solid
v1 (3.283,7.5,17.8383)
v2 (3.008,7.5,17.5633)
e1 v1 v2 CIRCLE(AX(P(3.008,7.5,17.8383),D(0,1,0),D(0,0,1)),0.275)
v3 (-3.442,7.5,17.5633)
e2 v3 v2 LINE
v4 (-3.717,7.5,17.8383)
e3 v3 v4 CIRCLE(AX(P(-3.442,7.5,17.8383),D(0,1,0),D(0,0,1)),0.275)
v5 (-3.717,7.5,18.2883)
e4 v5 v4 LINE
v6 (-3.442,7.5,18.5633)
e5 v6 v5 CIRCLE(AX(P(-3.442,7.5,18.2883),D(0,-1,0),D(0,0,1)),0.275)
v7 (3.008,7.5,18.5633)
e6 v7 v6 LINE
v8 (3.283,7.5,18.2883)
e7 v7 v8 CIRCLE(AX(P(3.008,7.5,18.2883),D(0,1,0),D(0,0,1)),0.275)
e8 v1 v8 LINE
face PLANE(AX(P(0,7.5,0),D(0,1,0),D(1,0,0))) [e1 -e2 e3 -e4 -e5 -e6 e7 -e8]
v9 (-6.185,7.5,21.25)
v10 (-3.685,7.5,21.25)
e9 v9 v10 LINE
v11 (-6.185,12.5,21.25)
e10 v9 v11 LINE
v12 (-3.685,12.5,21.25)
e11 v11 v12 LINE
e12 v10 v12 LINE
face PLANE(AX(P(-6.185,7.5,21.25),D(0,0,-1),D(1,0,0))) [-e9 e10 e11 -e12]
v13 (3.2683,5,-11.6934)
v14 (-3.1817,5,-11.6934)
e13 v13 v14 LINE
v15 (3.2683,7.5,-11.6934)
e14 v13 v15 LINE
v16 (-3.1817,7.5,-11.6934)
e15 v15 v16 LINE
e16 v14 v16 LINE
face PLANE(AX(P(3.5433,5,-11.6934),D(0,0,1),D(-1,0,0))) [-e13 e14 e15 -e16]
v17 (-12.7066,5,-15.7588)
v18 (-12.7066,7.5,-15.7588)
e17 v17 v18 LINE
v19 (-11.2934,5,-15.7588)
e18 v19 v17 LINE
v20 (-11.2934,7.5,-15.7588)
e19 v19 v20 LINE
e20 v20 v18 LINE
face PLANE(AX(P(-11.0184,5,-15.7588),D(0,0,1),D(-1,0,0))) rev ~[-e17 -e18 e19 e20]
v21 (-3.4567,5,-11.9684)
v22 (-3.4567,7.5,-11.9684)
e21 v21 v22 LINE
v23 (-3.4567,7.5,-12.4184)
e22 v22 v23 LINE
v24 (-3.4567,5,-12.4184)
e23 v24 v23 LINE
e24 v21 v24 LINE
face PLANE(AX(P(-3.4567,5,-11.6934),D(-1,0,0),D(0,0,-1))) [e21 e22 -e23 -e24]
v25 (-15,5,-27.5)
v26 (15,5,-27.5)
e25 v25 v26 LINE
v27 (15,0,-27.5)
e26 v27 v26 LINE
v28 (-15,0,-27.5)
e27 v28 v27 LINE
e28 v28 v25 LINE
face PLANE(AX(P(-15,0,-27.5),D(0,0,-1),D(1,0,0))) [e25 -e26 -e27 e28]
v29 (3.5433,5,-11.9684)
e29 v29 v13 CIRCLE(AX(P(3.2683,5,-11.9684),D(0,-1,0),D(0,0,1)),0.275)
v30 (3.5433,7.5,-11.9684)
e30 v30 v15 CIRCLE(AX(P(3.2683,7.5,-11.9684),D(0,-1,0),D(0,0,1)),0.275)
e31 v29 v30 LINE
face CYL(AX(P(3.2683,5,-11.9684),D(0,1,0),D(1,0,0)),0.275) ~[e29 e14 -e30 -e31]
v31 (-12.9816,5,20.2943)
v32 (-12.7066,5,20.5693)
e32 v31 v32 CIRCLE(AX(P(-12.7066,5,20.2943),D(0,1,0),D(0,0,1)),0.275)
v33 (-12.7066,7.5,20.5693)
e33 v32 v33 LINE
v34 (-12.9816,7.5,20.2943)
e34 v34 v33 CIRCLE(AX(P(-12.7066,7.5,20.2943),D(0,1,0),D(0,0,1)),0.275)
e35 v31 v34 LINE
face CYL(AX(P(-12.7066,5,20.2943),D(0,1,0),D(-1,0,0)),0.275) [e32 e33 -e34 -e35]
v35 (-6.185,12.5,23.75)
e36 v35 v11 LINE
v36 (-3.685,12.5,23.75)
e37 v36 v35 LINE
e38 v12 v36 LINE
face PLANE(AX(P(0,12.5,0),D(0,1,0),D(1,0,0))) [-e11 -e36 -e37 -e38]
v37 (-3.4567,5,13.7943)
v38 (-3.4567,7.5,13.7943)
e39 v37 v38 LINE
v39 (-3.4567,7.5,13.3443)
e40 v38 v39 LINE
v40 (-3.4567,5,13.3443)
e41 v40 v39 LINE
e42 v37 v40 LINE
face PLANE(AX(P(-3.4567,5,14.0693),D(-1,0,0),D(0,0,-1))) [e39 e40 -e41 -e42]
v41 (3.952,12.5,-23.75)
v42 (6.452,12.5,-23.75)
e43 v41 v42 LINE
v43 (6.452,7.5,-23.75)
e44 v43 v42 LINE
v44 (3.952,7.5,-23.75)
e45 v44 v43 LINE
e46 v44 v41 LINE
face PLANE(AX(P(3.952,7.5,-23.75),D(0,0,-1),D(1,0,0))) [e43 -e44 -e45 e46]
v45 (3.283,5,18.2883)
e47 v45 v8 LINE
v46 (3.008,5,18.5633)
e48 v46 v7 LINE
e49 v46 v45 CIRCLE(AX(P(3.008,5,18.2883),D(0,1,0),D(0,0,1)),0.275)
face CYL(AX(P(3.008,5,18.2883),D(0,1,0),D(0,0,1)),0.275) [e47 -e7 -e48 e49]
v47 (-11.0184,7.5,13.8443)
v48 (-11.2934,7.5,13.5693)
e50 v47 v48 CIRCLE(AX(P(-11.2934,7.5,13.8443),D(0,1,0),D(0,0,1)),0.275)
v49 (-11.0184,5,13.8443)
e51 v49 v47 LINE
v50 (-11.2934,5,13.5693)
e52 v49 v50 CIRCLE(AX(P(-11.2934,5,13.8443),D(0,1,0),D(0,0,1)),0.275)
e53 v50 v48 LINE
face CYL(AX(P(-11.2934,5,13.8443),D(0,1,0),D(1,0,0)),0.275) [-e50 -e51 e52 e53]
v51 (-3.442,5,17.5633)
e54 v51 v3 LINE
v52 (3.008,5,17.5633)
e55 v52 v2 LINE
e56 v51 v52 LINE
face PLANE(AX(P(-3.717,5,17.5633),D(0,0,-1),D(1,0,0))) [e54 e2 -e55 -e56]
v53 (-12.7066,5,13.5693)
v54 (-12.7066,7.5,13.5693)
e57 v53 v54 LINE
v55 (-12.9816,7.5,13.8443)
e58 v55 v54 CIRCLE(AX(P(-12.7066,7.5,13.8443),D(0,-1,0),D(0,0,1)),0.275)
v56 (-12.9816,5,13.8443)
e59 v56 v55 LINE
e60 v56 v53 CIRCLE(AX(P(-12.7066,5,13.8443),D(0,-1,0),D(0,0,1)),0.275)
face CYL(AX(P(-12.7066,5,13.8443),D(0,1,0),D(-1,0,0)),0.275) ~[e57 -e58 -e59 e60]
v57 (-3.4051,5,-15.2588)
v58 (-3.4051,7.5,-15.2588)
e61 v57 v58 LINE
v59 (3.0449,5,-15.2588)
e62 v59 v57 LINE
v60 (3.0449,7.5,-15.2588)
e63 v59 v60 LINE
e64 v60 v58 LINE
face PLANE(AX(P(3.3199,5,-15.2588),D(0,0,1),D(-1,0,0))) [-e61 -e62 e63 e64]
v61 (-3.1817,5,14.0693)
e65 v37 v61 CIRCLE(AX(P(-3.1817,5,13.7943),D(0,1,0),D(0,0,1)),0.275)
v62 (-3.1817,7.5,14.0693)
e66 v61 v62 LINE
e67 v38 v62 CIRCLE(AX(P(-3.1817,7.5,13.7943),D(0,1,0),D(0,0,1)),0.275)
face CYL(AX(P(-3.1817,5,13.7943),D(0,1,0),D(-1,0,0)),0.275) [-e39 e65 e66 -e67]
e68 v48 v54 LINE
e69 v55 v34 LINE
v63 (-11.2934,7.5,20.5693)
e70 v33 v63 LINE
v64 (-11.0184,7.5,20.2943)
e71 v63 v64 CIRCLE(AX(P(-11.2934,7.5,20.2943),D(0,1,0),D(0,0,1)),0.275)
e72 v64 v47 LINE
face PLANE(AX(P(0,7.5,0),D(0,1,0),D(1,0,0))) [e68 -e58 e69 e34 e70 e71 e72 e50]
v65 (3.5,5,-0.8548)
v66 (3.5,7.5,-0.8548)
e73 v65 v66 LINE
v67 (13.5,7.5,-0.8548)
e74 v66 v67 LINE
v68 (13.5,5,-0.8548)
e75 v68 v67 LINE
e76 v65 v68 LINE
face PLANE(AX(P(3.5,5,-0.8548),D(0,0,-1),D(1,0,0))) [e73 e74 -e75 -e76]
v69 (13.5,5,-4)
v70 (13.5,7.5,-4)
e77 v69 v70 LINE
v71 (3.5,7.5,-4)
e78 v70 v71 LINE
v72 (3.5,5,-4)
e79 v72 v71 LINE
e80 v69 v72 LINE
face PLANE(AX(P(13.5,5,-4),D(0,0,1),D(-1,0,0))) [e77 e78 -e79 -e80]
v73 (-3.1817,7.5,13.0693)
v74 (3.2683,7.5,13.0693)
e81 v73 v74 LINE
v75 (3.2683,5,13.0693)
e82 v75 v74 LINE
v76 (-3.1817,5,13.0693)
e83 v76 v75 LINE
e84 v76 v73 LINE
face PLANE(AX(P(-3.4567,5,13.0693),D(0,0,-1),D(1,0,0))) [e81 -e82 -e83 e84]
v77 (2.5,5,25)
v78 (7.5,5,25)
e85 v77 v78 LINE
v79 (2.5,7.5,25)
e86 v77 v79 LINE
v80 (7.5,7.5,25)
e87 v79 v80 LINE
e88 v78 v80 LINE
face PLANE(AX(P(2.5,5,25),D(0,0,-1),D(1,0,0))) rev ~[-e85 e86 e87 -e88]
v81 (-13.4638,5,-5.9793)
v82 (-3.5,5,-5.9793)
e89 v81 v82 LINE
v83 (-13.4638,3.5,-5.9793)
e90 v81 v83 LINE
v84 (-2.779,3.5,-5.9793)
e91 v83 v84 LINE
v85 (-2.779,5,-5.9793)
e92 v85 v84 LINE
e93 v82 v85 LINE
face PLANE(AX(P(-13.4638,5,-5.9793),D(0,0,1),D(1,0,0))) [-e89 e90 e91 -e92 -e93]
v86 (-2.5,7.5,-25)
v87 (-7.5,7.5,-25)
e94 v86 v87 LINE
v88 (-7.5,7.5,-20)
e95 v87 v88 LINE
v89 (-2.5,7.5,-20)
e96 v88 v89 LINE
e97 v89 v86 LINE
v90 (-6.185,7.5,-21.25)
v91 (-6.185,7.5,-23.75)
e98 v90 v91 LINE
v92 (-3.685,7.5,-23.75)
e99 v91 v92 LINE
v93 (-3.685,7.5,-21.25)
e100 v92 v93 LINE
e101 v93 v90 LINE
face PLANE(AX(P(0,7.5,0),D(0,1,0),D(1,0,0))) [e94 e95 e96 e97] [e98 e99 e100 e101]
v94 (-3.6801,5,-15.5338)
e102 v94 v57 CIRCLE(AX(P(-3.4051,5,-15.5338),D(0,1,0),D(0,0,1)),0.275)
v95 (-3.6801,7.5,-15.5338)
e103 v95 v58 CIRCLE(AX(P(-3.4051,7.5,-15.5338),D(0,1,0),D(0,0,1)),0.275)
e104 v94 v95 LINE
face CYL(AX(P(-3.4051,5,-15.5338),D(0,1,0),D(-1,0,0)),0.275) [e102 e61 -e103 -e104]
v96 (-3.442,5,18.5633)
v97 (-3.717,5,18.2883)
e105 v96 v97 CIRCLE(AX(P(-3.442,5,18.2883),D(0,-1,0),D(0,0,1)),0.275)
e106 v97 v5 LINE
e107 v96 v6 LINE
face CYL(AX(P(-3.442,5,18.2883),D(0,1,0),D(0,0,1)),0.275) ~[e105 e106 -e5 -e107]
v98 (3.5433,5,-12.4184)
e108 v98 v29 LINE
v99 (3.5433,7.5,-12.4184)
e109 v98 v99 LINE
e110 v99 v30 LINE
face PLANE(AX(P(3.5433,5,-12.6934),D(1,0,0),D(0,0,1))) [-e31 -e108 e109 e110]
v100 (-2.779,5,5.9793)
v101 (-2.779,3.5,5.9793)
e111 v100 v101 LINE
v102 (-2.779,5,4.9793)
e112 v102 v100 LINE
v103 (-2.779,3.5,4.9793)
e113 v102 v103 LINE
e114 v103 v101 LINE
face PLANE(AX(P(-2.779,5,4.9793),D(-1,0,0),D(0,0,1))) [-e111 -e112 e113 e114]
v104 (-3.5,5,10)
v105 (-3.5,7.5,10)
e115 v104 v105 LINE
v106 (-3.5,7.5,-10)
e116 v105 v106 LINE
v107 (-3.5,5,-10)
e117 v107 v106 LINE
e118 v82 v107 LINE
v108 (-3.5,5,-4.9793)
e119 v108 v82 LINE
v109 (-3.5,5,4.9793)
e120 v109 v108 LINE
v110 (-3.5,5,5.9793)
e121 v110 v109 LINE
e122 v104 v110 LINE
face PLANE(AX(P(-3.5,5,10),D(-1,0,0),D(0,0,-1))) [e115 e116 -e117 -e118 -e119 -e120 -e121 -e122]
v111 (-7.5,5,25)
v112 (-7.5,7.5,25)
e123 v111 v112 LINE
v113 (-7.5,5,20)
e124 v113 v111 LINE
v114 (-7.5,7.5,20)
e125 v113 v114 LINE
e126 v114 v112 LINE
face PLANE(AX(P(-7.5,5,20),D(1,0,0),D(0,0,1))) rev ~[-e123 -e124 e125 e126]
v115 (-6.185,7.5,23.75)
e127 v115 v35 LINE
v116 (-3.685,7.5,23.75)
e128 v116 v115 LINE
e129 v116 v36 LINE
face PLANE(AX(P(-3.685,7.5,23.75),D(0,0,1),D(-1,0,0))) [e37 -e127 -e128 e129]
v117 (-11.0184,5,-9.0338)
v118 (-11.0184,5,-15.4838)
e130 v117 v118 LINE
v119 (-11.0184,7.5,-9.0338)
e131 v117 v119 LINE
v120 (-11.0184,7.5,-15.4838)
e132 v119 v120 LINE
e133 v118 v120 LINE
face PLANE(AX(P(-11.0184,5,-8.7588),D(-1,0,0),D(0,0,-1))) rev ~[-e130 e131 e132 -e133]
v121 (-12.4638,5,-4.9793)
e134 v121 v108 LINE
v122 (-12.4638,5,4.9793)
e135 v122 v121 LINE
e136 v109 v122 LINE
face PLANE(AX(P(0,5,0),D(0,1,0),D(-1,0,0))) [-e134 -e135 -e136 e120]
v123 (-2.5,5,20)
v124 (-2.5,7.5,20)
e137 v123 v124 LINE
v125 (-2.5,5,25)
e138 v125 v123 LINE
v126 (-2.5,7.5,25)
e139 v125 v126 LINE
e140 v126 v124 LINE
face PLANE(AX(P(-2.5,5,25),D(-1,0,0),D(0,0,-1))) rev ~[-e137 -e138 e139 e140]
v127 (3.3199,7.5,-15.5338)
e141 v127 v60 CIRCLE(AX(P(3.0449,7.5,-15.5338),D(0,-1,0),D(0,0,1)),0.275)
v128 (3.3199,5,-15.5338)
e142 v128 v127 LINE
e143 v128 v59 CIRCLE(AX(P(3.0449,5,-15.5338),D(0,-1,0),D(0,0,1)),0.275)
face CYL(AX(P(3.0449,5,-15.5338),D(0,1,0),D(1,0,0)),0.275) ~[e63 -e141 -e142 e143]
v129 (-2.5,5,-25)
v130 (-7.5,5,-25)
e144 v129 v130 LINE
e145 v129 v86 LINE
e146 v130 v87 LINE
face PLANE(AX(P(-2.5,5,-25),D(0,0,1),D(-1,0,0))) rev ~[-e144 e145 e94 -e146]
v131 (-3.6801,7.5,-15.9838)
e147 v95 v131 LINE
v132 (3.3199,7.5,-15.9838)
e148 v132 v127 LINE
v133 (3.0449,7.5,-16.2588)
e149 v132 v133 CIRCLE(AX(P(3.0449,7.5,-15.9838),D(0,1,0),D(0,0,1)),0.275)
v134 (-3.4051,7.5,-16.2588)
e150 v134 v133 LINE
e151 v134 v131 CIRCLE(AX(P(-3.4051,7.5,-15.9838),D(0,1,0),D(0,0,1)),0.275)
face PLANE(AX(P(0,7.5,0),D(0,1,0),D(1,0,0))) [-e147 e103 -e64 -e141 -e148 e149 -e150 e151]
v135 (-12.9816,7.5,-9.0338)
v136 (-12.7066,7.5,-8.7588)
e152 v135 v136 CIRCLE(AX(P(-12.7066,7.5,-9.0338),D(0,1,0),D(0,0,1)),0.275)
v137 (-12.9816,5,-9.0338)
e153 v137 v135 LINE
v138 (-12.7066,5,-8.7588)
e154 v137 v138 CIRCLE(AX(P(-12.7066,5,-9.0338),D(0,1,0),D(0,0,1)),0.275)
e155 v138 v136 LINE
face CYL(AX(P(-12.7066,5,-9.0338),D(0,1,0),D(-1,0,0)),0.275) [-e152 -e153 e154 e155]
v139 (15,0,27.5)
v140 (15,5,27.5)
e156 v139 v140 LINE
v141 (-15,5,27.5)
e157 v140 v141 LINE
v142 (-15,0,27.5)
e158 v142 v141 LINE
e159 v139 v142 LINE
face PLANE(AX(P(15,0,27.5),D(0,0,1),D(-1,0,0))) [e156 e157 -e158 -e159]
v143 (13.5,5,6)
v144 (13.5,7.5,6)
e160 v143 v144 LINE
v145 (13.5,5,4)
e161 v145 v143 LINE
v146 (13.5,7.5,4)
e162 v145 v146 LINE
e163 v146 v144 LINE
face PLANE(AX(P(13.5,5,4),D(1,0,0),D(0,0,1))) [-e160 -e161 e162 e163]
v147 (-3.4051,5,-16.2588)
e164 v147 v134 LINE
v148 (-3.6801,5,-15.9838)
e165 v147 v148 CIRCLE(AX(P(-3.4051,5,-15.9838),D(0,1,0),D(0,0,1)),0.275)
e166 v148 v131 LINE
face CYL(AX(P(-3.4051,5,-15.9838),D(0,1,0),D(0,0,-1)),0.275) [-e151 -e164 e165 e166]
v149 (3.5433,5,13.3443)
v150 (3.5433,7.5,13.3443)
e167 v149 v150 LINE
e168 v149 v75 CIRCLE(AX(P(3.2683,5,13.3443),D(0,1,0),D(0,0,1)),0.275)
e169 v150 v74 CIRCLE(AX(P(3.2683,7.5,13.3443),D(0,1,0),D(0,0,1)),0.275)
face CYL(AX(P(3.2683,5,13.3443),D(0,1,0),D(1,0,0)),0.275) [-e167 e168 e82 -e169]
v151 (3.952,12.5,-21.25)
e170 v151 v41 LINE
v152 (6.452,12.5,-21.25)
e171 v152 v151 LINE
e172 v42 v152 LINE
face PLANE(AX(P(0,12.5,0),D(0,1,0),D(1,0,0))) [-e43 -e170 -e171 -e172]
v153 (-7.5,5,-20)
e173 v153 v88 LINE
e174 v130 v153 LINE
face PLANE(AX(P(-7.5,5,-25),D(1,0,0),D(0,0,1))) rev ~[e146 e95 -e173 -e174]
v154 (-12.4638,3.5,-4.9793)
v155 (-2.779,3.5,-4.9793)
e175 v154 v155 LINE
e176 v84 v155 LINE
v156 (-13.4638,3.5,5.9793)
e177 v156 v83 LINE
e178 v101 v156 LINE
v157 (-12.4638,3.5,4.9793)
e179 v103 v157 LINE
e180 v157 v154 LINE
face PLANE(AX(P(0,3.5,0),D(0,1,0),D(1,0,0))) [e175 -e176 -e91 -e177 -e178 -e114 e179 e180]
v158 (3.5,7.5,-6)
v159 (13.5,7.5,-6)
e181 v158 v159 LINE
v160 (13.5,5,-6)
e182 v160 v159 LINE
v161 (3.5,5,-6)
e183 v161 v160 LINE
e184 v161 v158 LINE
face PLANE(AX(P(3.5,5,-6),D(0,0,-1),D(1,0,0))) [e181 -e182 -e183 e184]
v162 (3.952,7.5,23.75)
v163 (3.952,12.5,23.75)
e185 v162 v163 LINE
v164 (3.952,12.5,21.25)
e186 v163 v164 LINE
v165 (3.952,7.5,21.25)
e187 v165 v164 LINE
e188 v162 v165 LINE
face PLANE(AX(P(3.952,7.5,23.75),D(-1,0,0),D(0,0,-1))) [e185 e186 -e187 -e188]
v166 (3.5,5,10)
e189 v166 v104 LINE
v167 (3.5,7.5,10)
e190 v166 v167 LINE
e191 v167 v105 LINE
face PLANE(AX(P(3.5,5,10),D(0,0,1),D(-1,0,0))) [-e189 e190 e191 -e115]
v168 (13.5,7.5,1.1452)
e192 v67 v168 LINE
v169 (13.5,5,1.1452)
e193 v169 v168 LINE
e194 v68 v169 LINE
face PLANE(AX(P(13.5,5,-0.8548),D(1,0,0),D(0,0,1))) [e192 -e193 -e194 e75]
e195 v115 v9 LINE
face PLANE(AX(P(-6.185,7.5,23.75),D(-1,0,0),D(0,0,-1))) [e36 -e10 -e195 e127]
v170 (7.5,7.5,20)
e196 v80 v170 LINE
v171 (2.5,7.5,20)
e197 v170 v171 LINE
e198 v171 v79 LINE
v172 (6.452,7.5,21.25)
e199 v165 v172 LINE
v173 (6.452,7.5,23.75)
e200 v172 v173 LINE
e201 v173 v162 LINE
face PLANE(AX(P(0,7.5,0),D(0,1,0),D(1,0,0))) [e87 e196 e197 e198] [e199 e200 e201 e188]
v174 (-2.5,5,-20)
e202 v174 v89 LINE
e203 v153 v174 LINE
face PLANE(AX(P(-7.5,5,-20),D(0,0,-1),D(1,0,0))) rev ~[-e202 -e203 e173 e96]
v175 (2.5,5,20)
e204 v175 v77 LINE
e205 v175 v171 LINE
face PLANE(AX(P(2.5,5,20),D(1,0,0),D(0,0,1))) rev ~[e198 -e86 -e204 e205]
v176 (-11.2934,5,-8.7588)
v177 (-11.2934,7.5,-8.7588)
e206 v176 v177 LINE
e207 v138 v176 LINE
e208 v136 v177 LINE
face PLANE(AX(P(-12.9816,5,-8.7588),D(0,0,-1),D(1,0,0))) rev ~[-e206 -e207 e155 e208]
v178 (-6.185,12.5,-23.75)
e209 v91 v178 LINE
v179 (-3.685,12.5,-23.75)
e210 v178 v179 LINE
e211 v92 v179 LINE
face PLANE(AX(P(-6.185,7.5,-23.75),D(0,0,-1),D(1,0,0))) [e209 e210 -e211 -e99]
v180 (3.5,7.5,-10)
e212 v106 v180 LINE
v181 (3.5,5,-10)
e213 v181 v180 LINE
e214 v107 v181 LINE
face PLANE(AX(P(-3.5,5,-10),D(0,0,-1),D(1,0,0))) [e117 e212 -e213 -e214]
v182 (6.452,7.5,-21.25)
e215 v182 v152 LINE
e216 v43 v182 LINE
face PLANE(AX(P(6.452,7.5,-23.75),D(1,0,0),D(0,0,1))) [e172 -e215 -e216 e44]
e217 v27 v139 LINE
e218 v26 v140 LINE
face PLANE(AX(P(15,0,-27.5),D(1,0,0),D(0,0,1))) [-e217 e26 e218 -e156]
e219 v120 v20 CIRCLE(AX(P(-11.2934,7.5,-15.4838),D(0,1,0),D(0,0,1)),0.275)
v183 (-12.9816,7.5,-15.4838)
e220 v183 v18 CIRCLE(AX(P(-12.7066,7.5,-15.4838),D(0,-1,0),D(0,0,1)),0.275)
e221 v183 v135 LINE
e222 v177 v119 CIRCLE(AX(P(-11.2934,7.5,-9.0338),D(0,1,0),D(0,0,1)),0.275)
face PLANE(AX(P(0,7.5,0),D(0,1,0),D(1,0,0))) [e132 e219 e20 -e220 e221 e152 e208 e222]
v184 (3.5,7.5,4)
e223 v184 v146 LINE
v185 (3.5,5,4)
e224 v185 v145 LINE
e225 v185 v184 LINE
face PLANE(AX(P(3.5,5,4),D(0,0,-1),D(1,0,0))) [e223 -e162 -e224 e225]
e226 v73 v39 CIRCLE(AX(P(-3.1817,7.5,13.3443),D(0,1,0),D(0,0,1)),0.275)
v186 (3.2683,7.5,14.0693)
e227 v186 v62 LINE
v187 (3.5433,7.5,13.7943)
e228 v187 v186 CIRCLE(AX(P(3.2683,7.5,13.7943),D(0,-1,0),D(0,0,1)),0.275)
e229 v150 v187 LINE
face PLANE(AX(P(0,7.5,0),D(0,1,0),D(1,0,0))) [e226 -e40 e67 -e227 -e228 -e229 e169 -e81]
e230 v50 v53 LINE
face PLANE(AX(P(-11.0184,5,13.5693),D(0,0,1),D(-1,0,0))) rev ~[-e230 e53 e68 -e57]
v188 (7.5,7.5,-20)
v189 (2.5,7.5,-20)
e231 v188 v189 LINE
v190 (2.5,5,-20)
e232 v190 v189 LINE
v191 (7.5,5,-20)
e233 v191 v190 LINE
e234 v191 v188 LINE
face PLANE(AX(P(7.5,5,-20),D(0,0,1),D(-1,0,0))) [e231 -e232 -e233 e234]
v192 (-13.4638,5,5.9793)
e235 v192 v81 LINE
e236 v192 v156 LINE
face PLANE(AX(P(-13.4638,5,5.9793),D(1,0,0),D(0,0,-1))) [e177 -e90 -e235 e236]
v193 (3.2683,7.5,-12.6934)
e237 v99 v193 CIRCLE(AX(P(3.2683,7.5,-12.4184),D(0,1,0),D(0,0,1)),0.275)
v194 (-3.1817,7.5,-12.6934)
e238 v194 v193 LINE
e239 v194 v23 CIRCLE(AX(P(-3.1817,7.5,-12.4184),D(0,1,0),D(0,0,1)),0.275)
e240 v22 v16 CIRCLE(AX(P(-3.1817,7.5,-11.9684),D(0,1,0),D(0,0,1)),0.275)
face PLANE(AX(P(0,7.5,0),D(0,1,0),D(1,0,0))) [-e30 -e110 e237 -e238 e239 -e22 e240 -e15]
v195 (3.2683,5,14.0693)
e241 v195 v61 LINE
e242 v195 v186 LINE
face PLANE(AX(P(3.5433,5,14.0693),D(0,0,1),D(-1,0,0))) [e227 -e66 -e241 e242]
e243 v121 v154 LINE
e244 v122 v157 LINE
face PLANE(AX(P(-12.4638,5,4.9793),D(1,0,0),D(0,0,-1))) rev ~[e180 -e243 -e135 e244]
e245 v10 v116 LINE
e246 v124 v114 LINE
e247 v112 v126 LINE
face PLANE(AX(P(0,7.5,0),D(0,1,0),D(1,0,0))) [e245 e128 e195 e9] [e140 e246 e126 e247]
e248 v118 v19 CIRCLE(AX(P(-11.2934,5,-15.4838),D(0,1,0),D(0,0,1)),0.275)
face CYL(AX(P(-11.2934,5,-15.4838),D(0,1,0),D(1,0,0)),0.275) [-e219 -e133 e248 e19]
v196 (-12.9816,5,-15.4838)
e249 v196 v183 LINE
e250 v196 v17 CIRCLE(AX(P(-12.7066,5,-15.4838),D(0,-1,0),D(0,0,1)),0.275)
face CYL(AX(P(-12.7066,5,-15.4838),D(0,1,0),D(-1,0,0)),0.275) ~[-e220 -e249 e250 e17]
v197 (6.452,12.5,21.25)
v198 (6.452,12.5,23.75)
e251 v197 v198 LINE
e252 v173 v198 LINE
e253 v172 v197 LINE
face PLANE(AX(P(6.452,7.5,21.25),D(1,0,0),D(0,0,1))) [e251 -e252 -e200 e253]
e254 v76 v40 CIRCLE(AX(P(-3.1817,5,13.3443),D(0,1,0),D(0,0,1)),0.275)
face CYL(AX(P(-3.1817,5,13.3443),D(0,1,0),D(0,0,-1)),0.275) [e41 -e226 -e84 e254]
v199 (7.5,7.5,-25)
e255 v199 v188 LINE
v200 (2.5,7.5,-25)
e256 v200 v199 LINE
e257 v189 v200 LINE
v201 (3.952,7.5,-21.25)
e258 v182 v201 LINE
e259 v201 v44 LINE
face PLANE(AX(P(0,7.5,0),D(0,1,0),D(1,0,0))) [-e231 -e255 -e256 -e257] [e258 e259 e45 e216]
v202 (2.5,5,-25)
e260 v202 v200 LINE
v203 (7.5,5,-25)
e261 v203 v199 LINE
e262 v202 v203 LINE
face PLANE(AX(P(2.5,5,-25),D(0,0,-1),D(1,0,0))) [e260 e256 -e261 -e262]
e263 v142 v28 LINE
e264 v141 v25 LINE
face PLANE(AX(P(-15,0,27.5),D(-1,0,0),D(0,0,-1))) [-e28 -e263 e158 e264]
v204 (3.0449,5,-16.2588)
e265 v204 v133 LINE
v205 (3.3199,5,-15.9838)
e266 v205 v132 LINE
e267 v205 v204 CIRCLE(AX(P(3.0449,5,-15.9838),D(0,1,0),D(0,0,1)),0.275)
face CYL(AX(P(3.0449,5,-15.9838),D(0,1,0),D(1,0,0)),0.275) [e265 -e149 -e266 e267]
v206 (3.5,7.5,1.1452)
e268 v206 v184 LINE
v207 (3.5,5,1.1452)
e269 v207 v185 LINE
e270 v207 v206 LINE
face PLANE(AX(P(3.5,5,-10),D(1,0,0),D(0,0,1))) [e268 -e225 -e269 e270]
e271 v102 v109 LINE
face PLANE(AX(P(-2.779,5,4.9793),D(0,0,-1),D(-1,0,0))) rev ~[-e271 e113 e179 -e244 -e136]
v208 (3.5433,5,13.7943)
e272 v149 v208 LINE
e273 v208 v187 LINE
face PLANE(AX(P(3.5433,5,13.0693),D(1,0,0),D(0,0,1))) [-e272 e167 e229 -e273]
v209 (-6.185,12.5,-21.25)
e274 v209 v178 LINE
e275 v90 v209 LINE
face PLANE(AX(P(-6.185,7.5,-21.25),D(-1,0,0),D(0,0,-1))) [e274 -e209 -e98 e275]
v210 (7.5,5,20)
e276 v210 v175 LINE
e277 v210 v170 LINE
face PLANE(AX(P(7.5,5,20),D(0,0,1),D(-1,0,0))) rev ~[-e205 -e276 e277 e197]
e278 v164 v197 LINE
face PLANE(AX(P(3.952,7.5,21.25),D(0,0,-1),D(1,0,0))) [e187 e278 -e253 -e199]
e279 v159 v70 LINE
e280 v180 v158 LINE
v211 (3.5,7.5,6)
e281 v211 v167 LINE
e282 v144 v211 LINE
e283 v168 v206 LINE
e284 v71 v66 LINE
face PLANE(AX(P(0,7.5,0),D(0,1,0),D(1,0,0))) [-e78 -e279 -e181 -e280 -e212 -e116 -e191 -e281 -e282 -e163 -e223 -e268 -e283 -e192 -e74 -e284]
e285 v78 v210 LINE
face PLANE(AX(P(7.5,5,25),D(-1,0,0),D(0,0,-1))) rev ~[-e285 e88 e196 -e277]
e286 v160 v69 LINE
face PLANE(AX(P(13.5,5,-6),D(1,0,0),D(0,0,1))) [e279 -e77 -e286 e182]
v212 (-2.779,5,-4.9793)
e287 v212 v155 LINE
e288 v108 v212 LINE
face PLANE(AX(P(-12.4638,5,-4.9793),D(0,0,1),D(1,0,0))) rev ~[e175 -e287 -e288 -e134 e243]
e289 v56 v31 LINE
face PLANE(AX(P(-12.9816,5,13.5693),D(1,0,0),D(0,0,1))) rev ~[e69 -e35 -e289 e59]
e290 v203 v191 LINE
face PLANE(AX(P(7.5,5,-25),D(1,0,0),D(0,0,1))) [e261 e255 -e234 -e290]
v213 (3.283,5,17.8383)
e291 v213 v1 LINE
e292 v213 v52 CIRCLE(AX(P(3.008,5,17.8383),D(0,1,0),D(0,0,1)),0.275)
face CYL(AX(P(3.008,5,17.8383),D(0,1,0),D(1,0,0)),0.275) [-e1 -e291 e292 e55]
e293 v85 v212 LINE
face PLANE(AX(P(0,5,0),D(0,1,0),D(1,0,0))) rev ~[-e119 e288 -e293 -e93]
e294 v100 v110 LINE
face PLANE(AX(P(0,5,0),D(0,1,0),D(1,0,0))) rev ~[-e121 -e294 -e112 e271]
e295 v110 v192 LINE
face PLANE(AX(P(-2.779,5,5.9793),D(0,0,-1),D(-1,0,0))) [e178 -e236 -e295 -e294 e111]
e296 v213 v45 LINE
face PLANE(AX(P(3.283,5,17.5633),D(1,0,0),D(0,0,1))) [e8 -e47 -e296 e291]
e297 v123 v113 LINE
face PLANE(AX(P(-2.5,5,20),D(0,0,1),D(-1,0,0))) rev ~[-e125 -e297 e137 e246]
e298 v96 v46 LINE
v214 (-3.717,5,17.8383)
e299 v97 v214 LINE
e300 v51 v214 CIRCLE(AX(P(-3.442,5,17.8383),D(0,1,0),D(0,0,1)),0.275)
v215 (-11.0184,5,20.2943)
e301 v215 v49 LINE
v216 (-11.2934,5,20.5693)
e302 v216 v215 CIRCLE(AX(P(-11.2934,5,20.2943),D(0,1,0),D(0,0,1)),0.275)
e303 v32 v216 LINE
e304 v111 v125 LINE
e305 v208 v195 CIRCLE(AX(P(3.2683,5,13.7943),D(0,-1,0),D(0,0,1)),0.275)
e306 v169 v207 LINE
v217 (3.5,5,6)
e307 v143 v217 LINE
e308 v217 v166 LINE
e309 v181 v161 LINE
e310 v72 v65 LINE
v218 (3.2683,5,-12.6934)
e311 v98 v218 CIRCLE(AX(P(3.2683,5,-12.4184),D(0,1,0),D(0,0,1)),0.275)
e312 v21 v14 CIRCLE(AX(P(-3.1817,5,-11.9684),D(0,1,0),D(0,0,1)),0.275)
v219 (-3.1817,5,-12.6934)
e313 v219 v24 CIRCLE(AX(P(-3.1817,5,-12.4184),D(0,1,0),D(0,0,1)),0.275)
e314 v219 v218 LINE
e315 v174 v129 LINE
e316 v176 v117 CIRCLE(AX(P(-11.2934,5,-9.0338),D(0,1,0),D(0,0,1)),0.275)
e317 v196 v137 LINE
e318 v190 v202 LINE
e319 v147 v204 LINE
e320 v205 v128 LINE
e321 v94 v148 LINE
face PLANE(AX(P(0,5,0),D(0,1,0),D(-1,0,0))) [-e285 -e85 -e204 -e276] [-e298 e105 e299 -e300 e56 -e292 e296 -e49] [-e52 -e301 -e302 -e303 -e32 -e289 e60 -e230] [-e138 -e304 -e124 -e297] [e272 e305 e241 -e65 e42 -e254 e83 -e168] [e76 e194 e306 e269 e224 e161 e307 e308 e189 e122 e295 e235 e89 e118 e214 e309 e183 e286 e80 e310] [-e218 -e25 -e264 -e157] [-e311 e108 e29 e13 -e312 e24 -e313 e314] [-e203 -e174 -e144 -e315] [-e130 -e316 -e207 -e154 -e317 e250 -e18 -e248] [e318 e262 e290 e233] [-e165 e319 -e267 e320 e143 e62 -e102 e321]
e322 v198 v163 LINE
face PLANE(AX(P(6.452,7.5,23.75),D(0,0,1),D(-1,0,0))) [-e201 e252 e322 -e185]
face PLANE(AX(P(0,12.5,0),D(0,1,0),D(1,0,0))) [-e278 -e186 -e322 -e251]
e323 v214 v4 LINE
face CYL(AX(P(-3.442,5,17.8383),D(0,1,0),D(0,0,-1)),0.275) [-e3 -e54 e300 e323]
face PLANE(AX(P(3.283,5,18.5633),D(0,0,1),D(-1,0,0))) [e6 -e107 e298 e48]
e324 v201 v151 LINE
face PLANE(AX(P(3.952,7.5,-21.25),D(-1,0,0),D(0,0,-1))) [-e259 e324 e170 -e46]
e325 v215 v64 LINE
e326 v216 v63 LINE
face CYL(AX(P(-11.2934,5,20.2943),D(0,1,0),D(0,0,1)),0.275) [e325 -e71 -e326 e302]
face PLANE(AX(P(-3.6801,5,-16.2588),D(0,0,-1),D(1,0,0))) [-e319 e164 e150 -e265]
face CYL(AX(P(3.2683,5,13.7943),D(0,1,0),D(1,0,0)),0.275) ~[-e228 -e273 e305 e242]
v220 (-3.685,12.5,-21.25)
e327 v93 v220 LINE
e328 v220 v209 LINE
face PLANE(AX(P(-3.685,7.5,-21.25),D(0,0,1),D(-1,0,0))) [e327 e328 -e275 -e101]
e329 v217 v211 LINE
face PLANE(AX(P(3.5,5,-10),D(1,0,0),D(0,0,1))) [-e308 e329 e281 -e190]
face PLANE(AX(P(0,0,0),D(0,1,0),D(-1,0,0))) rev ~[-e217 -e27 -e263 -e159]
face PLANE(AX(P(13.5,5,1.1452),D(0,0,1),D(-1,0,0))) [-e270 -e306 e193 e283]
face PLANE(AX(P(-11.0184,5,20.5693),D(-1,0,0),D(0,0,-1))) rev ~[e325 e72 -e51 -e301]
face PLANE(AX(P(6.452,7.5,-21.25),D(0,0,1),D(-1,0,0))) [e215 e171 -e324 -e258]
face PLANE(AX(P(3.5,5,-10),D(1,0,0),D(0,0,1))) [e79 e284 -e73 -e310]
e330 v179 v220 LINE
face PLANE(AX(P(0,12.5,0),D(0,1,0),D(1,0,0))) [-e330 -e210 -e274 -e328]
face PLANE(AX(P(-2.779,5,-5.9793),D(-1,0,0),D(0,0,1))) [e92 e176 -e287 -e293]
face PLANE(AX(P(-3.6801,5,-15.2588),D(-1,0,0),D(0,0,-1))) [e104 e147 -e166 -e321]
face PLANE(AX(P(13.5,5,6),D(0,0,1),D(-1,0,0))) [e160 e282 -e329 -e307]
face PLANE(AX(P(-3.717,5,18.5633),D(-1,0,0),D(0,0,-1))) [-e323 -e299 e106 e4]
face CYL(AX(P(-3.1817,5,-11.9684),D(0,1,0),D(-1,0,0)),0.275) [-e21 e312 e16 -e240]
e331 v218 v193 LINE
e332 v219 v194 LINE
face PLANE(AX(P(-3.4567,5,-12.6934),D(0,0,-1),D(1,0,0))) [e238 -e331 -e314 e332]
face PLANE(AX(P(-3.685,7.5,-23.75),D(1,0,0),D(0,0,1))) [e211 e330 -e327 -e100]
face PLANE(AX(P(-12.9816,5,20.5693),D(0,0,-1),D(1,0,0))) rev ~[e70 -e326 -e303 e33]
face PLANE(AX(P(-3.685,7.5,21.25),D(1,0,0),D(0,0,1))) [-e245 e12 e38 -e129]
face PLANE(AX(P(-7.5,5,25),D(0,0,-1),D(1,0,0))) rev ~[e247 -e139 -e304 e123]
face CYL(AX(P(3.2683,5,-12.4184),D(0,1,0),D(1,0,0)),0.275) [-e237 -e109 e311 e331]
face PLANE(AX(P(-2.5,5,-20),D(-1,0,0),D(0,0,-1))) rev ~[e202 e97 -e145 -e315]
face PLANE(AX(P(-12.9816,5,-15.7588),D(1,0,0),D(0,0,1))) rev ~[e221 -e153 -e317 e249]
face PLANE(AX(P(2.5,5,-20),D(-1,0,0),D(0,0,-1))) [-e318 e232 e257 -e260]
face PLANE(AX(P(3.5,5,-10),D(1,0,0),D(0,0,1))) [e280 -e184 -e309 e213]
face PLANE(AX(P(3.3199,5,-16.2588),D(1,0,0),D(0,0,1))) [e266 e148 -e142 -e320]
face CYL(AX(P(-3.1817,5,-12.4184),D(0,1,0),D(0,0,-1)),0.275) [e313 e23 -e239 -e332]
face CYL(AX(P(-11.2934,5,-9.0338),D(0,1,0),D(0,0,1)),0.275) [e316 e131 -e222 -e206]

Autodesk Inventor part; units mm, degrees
ref_plane "YZ Plane" through (0, 0, 0) normal (1, 0, 0) x (0, 1, 0)
ref_plane "XZ Plane" through (0, 0, 0) normal (0, 1, 0) x (-1, 0, 0)
ref_plane "XY Plane" through (0, 0, 0) normal (0, 0, 1) x (1, 0, 0)
sketch "Sketch1" plane through (0, 0, 0) normal (0, 1, 0) x (-1, 0, 0)
  line L0 (-15, 27.5) -> (15, 27.5)
  line L1 (15, 27.5) -> (15, -27.5)
  line L2 (15, -27.5) -> (-15, -27.5)
  line L3 (-15, -27.5) -> (-15, 27.5)
  line L4 (-15, 27.5) -> (15, -27.5) construction
  line L5 (15, 27.5) -> (-15, -27.5) construction
  point P0 (0, 0)
  dimension "d0" = 55
  dimension "d1" = 30
extrude "Extrusion1" add sketch "Sketch1" along normal blind 5
sketch "Sketch2" plane through (0, 5, 0) normal (0, 1, 0) x (1, 0, 0)
  line L0 (-7.5, -25) -> (-2.5, -25)
  line L1 (-2.5, -25) -> (-2.5, -20)
  line L2 (-2.5, -20) -> (-7.5, -20)
  line L3 (-7.5, -20) -> (-7.5, -25)
  line L4 (-7.5, -25) -> (-2.5, -20) construction
  line L5 (-2.5, -25) -> (-7.5, -20) construction
  line L6 (-21.5261, -24.4969) -> (-16.5342, -20) construction
  line L7 (-15.0081, -24.7484) -> (-20, -20.2516) construction
  line L8 (-4.2253, 22.2548) -> (-1.8361, 26.5023) construction
  line L9 (-1.8361, 22.2548) -> (-4.2253, 26.5023) construction
  line L10 (-16.2912, 21.4805) -> (-13.725, 24.9537) construction
  line L11 (-13.725, 21.4805) -> (-16.2912, 24.9537) construction
  line L12 (-15, -27.5) -> (15, -27.5) projected
  line L13 (2.5, -25) -> (7.5, -25)
  line L14 (7.5, -25) -> (7.5, -20)
  line L15 (7.5, -20) -> (2.5, -20)
  line L16 (2.5, -20) -> (2.5, -25)
  line L17 (2.5, -25) -> (7.5, -20) construction
  line L18 (7.5, -25) -> (2.5, -20) construction
  point P0 (0, 0)
  point P1 (-5, -22.5)
  point P2 (-3.0307, 24.3785)
  point P3 (5, -22.5)
  dimension "d4" = 5
  dimension "d7" = 5
  dimension "d8" = 5
  dimension "d9" = 5
  dimension "d10" = 5
  dimension "d11" = 5
  dimension "d12" = 5
  dimension "d13" = 5
extrude "Extrusion2" add sketch "Sketch2" along normal blind 2.5
sketch "Sketch3" plane through (0, 5, 0) normal (0, 1, 0) x (1, 0, 0)
  line L0 (-7.5, 20) -> (-2.5, 20)
  line L1 (-2.5, 20) -> (-2.5, 25)
  line L2 (-2.5, 25) -> (-7.5, 25)
  line L3 (-7.5, 25) -> (-7.5, 20)
  line L4 (-7.5, 20) -> (-2.5, 25) construction
  line L5 (-2.5, 20) -> (-7.5, 25) construction
  line L6 (15, 27.5) -> (-15, 27.5) projected
  line L7 (7.5, 20) -> (2.5, 20)
  line L8 (2.5, 20) -> (2.5, 25)
  line L9 (2.5, 25) -> (7.5, 25)
  line L10 (7.5, 25) -> (7.5, 20)
  line L11 (7.5, 20) -> (2.5, 25) construction
  line L12 (2.5, 20) -> (7.5, 25) construction
  point P0 (0, 0)
  point P1 (-5, 22.5)
  point P2 (5, 22.5)
  dimension "d16" = 5
  dimension "d17" = 5
  dimension "d18" = 5
  dimension "d19" = 5
  dimension "d20" = 5
  dimension "d21" = 5
  dimension "d22" = 5
  dimension "d23" = 5
extrude "Extrusion3" add sketch "Sketch3" along normal blind 2.5
sketch "Sketch5" plane through (0, 7.5, 0) normal (0, 1, 0) x (1, 0, 0)
  line L0 (-3.685, -23.75) -> (-6.185, -23.75)
  line L1 (-6.185, -23.75) -> (-6.185, -21.25)
  line L2 (-6.185, -21.25) -> (-3.685, -21.25)
  line L3 (-3.685, -21.25) -> (-3.685, -23.75)
  line L4 (-3.685, -23.75) -> (-6.185, -21.25) construction
  line L5 (-6.185, -23.75) -> (-3.685, -21.25) construction
  line L6 (6.452, -23.75) -> (3.952, -23.75)
  line L7 (3.952, -23.75) -> (3.952, -21.25)
  line L8 (3.952, -21.25) -> (6.452, -21.25)
  line L9 (6.452, -21.25) -> (6.452, -23.75)
  line L10 (6.452, -23.75) -> (3.952, -21.25) construction
  line L11 (3.952, -23.75) -> (6.452, -21.25) construction
  line L12 (-3.685, 21.25) -> (-6.185, 21.25)
  line L13 (-6.185, 21.25) -> (-6.185, 23.75)
  line L14 (-6.185, 23.75) -> (-3.685, 23.75)
  line L15 (-3.685, 23.75) -> (-3.685, 21.25)
  line L16 (-3.685, 21.25) -> (-6.185, 23.75) construction
  line L17 (-6.185, 21.25) -> (-3.685, 23.75) construction
  line L18 (6.452, 21.25) -> (3.952, 21.25)
  line L19 (3.952, 21.25) -> (3.952, 23.75)
  line L20 (3.952, 23.75) -> (6.452, 23.75)
  line L21 (6.452, 23.75) -> (6.452, 21.25)
  line L22 (6.452, 21.25) -> (3.952, 23.75) construction
  line L23 (3.952, 21.25) -> (6.452, 23.75) construction
  line L24 (-7.5, -25) -> (-2.5, -25) projected
  line L25 (2.5, -25) -> (7.5, -25) projected
  line L26 (-7.5, 20) -> (-2.5, 20) projected
  line L27 (2.5, 20) -> (7.5, 20) projected
  point P0 (0, 0)
  point P1 (-4.935, -22.5)
  point P2 (5.202, -22.5)
  point P3 (-4.935, 22.5)
  point P4 (5.202, 22.5)
  dimension "d34" = 2.5
  dimension "d35" = 2.5
  dimension "d36" = 2.5
  dimension "d37" = 2.5
  dimension "d38" = 2.5
  dimension "d39" = 2.5
  dimension "d40" = 2.5
  dimension "d41" = 2.5
extrude "Extrusion4" add sketch "Sketch5" along normal blind 5
sketch "Sketch6" plane through (0, 5, 0) normal (0, 1, 0) x (1, 0, 0)
  line L0 (3.5, -10) -> (-3.5, -10)
  line L1 (-3.5, -10) -> (-3.5, 10)
  line L2 (-3.5, 10) -> (3.5, 10)
  line L3 (3.5, 10) -> (3.5, -10)
  line L4 (3.5, -10) -> (-3.5, 10) construction
  line L5 (-3.5, -10) -> (3.5, 10) construction
  point P0 (0, 0)
  dimension "d44" = 20
  dimension "d45" = 7
extrude "Extrusion5" add sketch "Sketch6" along normal blind 2.5
sketch "Sketch7" plane through (0, 5, 0) normal (0, 1, 0) x (1, 0, 0)
  line L0 (3.5, -10) -> (3.5, 10) projected
  line L1 (13.5, -6) -> (3.5, -6)
  line L2 (3.5, -6) -> (3.5, -4)
  line L3 (3.5, -4) -> (13.5, -4)
  line L4 (13.5, -4) -> (13.5, -6)
  line L5 (13.5, -6) -> (3.5, -4) construction
  line L6 (3.5, -6) -> (13.5, -4) construction
  line L7 (13.5, -1.1452) -> (3.5, -1.1452)
  line L8 (3.5, -1.1452) -> (3.5, 0.8548)
  line L9 (3.5, 0.8548) -> (13.5, 0.8548)
  line L10 (13.5, 0.8548) -> (13.5, -1.1452)
  line L11 (13.5, -1.1452) -> (3.5, 0.8548) construction
  line L12 (3.5, -1.1452) -> (13.5, 0.8548) construction
  line L13 (13.5, 4) -> (3.5, 4)
  line L14 (3.5, 4) -> (3.5, 6)
  line L15 (3.5, 6) -> (13.5, 6)
  line L16 (13.5, 6) -> (13.5, 4)
  line L17 (13.5, 4) -> (3.5, 6) construction
  line L18 (3.5, 4) -> (13.5, 6) construction
  point P0 (0, 0)
  point P1 (8.5, -5)
  point P2 (8.5, -0.1452)
  point P3 (8.5, 5)
  point P4 (3.5, 4)
  point P5 (3.5, -1.1452)
  point P6 (3.5, -6)
  dimension "d48" = 5
  dimension "d49" = 5
  dimension "d50" = 2
  dimension "d51" = 2
  dimension "d52" = 2
  dimension "d53" = 10
  dimension "d54" = 10
  dimension "d55" = 10
extrude "Extrusion6" add sketch "Sketch7" along normal blind 2.5
sketch "Sketch8" plane through (0, 5, 0) normal (0, 1, 0) x (1, 0, 0)
  line L0 (-2.5053, -4.9793) -> (-12.4638, -4.9793)
  line L1 (-12.4638, -4.9793) -> (-12.4638, 4.9793)
  line L2 (-12.4638, 4.9793) -> (-2.5053, 4.9793)
  line L3 (-2.5053, 4.9793) -> (-2.5053, -4.9793)
  line L4 (-2.5053, -4.9793) -> (-12.4638, 4.9793) construction
  line L5 (-12.4638, -4.9793) -> (-2.5053, 4.9793) construction
  line L6 (-12.4638, -4.9793) -> (-2.5053, -4.9793)
  line L7 (-2.5053, -4.9793) -> (-2.5053, 4.9793)
  line L8 (-2.5053, 4.9793) -> (-12.4638, 4.9793)
  line L9 (-12.4638, 4.9793) -> (-12.4638, -4.9793)
  line L10 (-12.4638, -4.9793) -> (-2.5053, 4.9793) construction
  line L11 (-2.5053, -4.9793) -> (-12.4638, 4.9793) construction
  line L12 (-2.779, -5.9793) -> (-13.4638, -5.9793)
  line L13 (-13.4638, -5.9793) -> (-13.4638, 5.9793)
  line L14 (-13.4638, 5.9793) -> (-2.779, 5.9793)
  line L15 (-2.779, 5.9793) -> (-2.779, -5.9793)
  line L16 (-2.779, -5.9793) -> (-13.4638, 5.9793) construction
  line L17 (-13.4638, -5.9793) -> (-2.779, 5.9793) construction
  point P0 (0, 0)
  point P1 (-7.4846, 0)
  point P2 (-8.1214, 0)
  point P3 (-2.779, -4.9793)
  point P4 (-2.779, 4.9793)
  dimension "d58" = 0
  dimension "d59" = 1
  dimension "d60" = 1
  dimension "d61" = 1
extrude "Extrusion7" cut sketch "Sketch8" against normal blind 1.5 contours L15 L12 L13 L14 L2 L1 L0
sketch "Sketch9" plane through (0, 5, 0) normal (0, 1, 0) x (1, 0, 0)
  line L0 (-12.9816, -20.5693) -> (-11.0184, -20.5693)
  line L1 (-11.0184, -20.5693) -> (-11.0184, -13.5693)
  line L2 (-11.0184, -13.5693) -> (-12.9816, -13.5693)
  line L3 (-12.9816, -13.5693) -> (-12.9816, -20.5693)
  line L4 (-12.9816, -20.5693) -> (-11.0184, -13.5693) construction
  line L5 (-11.0184, -20.5693) -> (-12.9816, -13.5693) construction
  line L6 (-12.9816, 8.7588) -> (-11.0184, 8.7588)
  line L7 (-11.0184, 8.7588) -> (-11.0184, 15.7588)
  line L8 (-11.0184, 15.7588) -> (-12.9816, 15.7588)
  line L9 (-12.9816, 15.7588) -> (-12.9816, 8.7588)
  line L10 (-12.9816, 8.7588) -> (-11.0184, 15.7588) construction
  line L11 (-11.0184, 8.7588) -> (-12.9816, 15.7588) construction
  line L12 (-3.4567, -19.0951) -> (-3.4567, -18.2038)
  line L13 (3.5065, -17.7666) -> (3.5065, -17.6947)
  line L14 (3.5433, -14.0693) -> (-3.4567, -14.0693)
  line L15 (-3.4567, -14.0693) -> (-3.4567, -13.0693)
  line L16 (-3.4567, -13.0693) -> (3.5433, -13.0693)
  line L17 (3.5433, -13.0693) -> (3.5433, -14.0693)
  line L18 (3.5433, -14.0693) -> (-3.4567, -13.0693) construction
  line L19 (-3.4567, -14.0693) -> (3.5433, -13.0693) construction
  line L20 (3.5433, 11.6934) -> (-3.4567, 11.6934)
  line L21 (-3.4567, 11.6934) -> (-3.4567, 12.6934)
  line L22 (-3.4567, 12.6934) -> (3.5433, 12.6934)
  line L23 (3.5433, 12.6934) -> (3.5433, 11.6934)
  line L24 (3.5433, 11.6934) -> (-3.4567, 12.6934) construction
  line L25 (-3.4567, 11.6934) -> (3.5433, 12.6934) construction
  line L26 (3.3199, 15.2588) -> (-3.6801, 15.2588)
  line L27 (-3.6801, 15.2588) -> (-3.6801, 16.2588)
  line L28 (-3.6801, 16.2588) -> (3.3199, 16.2588)
  line L29 (3.3199, 16.2588) -> (3.3199, 15.2588)
  line L30 (3.3199, 15.2588) -> (-3.6801, 16.2588) construction
  line L31 (-3.6801, 15.2588) -> (3.3199, 16.2588) construction
  line L32 (3.283, -18.5633) -> (-3.717, -18.5633)
  line L33 (-3.717, -18.5633) -> (-3.717, -17.5633)
  line L34 (-3.717, -17.5633) -> (3.283, -17.5633)
  line L35 (3.283, -17.5633) -> (3.283, -18.5633)
  line L36 (3.283, -18.5633) -> (-3.717, -17.5633) construction
  line L37 (-3.717, -18.5633) -> (3.283, -17.5633) construction
  point P0 (0, 0)
  point P1 (-12, -17.0693)
  point P2 (-12, 12.2588)
  point P3 (0.0433, -13.5693)
  point P4 (0.0433, 12.1934)
  point P5 (-0.1801, 15.7588)
  point P6 (-0.217, -18.0633)
  dimension "d64" = 1.9632
  dimension "d65" = 7
  dimension "d66" = 1.9632
  dimension "d67" = 7
  dimension "d69" = 7
  dimension "d70" = 7
  dimension "d71" = 7
  dimension "d72" = 7
  dimension "d73" = 1
  dimension "d74" = 1
  dimension "d75" = 1
  dimension "d76" = 1
  dimension "d77" = 17.0694
  dimension "d78" = 12
  dimension "d79" = 12
  dimension "d80" = 12.2588
extrude "Extrusion8" add sketch "Sketch9" along normal blind 2.5
fillet "Fillet1" radius 0.275 24 edges at (-12.9816, 6.25, 20.5693) (-11.0184, 6.25, 20.5693) (-12.9816, 6.25, 13.5693) (-11.0184, 6.25, 13.5693) (-3.717, 6.25, 18.5633) (-3.717, 6.25, 17.5633) (3.283, 6.25, 18.5633) (3.283, 6.25, 17.5633) (-3.4567, 6.25, 13.0693) (-3.4567, 6.25, 14.0693) (3.5433, 6.25, 14.0693) (3.5433, 6.25, 13.0693) (3.3199, 6.25, -15.2588) (3.3199, 6.25, -16.2588) (3.5433, 6.25, -11.6934) (3.5433, 6.25, -12.6934) (-3.4567, 6.25, -11.6934) (-3.4567, 6.25, -12.6934) (-3.6801, 6.25, -15.2588) (-3.6801, 6.25, -16.2588) (-11.0184, 6.25, -8.7588) (-12.9816, 6.25, -8.7588) (-12.9816, 6.25, -15.7588) (-11.0184, 6.25, -15.7588)
properties part number "ghj"
